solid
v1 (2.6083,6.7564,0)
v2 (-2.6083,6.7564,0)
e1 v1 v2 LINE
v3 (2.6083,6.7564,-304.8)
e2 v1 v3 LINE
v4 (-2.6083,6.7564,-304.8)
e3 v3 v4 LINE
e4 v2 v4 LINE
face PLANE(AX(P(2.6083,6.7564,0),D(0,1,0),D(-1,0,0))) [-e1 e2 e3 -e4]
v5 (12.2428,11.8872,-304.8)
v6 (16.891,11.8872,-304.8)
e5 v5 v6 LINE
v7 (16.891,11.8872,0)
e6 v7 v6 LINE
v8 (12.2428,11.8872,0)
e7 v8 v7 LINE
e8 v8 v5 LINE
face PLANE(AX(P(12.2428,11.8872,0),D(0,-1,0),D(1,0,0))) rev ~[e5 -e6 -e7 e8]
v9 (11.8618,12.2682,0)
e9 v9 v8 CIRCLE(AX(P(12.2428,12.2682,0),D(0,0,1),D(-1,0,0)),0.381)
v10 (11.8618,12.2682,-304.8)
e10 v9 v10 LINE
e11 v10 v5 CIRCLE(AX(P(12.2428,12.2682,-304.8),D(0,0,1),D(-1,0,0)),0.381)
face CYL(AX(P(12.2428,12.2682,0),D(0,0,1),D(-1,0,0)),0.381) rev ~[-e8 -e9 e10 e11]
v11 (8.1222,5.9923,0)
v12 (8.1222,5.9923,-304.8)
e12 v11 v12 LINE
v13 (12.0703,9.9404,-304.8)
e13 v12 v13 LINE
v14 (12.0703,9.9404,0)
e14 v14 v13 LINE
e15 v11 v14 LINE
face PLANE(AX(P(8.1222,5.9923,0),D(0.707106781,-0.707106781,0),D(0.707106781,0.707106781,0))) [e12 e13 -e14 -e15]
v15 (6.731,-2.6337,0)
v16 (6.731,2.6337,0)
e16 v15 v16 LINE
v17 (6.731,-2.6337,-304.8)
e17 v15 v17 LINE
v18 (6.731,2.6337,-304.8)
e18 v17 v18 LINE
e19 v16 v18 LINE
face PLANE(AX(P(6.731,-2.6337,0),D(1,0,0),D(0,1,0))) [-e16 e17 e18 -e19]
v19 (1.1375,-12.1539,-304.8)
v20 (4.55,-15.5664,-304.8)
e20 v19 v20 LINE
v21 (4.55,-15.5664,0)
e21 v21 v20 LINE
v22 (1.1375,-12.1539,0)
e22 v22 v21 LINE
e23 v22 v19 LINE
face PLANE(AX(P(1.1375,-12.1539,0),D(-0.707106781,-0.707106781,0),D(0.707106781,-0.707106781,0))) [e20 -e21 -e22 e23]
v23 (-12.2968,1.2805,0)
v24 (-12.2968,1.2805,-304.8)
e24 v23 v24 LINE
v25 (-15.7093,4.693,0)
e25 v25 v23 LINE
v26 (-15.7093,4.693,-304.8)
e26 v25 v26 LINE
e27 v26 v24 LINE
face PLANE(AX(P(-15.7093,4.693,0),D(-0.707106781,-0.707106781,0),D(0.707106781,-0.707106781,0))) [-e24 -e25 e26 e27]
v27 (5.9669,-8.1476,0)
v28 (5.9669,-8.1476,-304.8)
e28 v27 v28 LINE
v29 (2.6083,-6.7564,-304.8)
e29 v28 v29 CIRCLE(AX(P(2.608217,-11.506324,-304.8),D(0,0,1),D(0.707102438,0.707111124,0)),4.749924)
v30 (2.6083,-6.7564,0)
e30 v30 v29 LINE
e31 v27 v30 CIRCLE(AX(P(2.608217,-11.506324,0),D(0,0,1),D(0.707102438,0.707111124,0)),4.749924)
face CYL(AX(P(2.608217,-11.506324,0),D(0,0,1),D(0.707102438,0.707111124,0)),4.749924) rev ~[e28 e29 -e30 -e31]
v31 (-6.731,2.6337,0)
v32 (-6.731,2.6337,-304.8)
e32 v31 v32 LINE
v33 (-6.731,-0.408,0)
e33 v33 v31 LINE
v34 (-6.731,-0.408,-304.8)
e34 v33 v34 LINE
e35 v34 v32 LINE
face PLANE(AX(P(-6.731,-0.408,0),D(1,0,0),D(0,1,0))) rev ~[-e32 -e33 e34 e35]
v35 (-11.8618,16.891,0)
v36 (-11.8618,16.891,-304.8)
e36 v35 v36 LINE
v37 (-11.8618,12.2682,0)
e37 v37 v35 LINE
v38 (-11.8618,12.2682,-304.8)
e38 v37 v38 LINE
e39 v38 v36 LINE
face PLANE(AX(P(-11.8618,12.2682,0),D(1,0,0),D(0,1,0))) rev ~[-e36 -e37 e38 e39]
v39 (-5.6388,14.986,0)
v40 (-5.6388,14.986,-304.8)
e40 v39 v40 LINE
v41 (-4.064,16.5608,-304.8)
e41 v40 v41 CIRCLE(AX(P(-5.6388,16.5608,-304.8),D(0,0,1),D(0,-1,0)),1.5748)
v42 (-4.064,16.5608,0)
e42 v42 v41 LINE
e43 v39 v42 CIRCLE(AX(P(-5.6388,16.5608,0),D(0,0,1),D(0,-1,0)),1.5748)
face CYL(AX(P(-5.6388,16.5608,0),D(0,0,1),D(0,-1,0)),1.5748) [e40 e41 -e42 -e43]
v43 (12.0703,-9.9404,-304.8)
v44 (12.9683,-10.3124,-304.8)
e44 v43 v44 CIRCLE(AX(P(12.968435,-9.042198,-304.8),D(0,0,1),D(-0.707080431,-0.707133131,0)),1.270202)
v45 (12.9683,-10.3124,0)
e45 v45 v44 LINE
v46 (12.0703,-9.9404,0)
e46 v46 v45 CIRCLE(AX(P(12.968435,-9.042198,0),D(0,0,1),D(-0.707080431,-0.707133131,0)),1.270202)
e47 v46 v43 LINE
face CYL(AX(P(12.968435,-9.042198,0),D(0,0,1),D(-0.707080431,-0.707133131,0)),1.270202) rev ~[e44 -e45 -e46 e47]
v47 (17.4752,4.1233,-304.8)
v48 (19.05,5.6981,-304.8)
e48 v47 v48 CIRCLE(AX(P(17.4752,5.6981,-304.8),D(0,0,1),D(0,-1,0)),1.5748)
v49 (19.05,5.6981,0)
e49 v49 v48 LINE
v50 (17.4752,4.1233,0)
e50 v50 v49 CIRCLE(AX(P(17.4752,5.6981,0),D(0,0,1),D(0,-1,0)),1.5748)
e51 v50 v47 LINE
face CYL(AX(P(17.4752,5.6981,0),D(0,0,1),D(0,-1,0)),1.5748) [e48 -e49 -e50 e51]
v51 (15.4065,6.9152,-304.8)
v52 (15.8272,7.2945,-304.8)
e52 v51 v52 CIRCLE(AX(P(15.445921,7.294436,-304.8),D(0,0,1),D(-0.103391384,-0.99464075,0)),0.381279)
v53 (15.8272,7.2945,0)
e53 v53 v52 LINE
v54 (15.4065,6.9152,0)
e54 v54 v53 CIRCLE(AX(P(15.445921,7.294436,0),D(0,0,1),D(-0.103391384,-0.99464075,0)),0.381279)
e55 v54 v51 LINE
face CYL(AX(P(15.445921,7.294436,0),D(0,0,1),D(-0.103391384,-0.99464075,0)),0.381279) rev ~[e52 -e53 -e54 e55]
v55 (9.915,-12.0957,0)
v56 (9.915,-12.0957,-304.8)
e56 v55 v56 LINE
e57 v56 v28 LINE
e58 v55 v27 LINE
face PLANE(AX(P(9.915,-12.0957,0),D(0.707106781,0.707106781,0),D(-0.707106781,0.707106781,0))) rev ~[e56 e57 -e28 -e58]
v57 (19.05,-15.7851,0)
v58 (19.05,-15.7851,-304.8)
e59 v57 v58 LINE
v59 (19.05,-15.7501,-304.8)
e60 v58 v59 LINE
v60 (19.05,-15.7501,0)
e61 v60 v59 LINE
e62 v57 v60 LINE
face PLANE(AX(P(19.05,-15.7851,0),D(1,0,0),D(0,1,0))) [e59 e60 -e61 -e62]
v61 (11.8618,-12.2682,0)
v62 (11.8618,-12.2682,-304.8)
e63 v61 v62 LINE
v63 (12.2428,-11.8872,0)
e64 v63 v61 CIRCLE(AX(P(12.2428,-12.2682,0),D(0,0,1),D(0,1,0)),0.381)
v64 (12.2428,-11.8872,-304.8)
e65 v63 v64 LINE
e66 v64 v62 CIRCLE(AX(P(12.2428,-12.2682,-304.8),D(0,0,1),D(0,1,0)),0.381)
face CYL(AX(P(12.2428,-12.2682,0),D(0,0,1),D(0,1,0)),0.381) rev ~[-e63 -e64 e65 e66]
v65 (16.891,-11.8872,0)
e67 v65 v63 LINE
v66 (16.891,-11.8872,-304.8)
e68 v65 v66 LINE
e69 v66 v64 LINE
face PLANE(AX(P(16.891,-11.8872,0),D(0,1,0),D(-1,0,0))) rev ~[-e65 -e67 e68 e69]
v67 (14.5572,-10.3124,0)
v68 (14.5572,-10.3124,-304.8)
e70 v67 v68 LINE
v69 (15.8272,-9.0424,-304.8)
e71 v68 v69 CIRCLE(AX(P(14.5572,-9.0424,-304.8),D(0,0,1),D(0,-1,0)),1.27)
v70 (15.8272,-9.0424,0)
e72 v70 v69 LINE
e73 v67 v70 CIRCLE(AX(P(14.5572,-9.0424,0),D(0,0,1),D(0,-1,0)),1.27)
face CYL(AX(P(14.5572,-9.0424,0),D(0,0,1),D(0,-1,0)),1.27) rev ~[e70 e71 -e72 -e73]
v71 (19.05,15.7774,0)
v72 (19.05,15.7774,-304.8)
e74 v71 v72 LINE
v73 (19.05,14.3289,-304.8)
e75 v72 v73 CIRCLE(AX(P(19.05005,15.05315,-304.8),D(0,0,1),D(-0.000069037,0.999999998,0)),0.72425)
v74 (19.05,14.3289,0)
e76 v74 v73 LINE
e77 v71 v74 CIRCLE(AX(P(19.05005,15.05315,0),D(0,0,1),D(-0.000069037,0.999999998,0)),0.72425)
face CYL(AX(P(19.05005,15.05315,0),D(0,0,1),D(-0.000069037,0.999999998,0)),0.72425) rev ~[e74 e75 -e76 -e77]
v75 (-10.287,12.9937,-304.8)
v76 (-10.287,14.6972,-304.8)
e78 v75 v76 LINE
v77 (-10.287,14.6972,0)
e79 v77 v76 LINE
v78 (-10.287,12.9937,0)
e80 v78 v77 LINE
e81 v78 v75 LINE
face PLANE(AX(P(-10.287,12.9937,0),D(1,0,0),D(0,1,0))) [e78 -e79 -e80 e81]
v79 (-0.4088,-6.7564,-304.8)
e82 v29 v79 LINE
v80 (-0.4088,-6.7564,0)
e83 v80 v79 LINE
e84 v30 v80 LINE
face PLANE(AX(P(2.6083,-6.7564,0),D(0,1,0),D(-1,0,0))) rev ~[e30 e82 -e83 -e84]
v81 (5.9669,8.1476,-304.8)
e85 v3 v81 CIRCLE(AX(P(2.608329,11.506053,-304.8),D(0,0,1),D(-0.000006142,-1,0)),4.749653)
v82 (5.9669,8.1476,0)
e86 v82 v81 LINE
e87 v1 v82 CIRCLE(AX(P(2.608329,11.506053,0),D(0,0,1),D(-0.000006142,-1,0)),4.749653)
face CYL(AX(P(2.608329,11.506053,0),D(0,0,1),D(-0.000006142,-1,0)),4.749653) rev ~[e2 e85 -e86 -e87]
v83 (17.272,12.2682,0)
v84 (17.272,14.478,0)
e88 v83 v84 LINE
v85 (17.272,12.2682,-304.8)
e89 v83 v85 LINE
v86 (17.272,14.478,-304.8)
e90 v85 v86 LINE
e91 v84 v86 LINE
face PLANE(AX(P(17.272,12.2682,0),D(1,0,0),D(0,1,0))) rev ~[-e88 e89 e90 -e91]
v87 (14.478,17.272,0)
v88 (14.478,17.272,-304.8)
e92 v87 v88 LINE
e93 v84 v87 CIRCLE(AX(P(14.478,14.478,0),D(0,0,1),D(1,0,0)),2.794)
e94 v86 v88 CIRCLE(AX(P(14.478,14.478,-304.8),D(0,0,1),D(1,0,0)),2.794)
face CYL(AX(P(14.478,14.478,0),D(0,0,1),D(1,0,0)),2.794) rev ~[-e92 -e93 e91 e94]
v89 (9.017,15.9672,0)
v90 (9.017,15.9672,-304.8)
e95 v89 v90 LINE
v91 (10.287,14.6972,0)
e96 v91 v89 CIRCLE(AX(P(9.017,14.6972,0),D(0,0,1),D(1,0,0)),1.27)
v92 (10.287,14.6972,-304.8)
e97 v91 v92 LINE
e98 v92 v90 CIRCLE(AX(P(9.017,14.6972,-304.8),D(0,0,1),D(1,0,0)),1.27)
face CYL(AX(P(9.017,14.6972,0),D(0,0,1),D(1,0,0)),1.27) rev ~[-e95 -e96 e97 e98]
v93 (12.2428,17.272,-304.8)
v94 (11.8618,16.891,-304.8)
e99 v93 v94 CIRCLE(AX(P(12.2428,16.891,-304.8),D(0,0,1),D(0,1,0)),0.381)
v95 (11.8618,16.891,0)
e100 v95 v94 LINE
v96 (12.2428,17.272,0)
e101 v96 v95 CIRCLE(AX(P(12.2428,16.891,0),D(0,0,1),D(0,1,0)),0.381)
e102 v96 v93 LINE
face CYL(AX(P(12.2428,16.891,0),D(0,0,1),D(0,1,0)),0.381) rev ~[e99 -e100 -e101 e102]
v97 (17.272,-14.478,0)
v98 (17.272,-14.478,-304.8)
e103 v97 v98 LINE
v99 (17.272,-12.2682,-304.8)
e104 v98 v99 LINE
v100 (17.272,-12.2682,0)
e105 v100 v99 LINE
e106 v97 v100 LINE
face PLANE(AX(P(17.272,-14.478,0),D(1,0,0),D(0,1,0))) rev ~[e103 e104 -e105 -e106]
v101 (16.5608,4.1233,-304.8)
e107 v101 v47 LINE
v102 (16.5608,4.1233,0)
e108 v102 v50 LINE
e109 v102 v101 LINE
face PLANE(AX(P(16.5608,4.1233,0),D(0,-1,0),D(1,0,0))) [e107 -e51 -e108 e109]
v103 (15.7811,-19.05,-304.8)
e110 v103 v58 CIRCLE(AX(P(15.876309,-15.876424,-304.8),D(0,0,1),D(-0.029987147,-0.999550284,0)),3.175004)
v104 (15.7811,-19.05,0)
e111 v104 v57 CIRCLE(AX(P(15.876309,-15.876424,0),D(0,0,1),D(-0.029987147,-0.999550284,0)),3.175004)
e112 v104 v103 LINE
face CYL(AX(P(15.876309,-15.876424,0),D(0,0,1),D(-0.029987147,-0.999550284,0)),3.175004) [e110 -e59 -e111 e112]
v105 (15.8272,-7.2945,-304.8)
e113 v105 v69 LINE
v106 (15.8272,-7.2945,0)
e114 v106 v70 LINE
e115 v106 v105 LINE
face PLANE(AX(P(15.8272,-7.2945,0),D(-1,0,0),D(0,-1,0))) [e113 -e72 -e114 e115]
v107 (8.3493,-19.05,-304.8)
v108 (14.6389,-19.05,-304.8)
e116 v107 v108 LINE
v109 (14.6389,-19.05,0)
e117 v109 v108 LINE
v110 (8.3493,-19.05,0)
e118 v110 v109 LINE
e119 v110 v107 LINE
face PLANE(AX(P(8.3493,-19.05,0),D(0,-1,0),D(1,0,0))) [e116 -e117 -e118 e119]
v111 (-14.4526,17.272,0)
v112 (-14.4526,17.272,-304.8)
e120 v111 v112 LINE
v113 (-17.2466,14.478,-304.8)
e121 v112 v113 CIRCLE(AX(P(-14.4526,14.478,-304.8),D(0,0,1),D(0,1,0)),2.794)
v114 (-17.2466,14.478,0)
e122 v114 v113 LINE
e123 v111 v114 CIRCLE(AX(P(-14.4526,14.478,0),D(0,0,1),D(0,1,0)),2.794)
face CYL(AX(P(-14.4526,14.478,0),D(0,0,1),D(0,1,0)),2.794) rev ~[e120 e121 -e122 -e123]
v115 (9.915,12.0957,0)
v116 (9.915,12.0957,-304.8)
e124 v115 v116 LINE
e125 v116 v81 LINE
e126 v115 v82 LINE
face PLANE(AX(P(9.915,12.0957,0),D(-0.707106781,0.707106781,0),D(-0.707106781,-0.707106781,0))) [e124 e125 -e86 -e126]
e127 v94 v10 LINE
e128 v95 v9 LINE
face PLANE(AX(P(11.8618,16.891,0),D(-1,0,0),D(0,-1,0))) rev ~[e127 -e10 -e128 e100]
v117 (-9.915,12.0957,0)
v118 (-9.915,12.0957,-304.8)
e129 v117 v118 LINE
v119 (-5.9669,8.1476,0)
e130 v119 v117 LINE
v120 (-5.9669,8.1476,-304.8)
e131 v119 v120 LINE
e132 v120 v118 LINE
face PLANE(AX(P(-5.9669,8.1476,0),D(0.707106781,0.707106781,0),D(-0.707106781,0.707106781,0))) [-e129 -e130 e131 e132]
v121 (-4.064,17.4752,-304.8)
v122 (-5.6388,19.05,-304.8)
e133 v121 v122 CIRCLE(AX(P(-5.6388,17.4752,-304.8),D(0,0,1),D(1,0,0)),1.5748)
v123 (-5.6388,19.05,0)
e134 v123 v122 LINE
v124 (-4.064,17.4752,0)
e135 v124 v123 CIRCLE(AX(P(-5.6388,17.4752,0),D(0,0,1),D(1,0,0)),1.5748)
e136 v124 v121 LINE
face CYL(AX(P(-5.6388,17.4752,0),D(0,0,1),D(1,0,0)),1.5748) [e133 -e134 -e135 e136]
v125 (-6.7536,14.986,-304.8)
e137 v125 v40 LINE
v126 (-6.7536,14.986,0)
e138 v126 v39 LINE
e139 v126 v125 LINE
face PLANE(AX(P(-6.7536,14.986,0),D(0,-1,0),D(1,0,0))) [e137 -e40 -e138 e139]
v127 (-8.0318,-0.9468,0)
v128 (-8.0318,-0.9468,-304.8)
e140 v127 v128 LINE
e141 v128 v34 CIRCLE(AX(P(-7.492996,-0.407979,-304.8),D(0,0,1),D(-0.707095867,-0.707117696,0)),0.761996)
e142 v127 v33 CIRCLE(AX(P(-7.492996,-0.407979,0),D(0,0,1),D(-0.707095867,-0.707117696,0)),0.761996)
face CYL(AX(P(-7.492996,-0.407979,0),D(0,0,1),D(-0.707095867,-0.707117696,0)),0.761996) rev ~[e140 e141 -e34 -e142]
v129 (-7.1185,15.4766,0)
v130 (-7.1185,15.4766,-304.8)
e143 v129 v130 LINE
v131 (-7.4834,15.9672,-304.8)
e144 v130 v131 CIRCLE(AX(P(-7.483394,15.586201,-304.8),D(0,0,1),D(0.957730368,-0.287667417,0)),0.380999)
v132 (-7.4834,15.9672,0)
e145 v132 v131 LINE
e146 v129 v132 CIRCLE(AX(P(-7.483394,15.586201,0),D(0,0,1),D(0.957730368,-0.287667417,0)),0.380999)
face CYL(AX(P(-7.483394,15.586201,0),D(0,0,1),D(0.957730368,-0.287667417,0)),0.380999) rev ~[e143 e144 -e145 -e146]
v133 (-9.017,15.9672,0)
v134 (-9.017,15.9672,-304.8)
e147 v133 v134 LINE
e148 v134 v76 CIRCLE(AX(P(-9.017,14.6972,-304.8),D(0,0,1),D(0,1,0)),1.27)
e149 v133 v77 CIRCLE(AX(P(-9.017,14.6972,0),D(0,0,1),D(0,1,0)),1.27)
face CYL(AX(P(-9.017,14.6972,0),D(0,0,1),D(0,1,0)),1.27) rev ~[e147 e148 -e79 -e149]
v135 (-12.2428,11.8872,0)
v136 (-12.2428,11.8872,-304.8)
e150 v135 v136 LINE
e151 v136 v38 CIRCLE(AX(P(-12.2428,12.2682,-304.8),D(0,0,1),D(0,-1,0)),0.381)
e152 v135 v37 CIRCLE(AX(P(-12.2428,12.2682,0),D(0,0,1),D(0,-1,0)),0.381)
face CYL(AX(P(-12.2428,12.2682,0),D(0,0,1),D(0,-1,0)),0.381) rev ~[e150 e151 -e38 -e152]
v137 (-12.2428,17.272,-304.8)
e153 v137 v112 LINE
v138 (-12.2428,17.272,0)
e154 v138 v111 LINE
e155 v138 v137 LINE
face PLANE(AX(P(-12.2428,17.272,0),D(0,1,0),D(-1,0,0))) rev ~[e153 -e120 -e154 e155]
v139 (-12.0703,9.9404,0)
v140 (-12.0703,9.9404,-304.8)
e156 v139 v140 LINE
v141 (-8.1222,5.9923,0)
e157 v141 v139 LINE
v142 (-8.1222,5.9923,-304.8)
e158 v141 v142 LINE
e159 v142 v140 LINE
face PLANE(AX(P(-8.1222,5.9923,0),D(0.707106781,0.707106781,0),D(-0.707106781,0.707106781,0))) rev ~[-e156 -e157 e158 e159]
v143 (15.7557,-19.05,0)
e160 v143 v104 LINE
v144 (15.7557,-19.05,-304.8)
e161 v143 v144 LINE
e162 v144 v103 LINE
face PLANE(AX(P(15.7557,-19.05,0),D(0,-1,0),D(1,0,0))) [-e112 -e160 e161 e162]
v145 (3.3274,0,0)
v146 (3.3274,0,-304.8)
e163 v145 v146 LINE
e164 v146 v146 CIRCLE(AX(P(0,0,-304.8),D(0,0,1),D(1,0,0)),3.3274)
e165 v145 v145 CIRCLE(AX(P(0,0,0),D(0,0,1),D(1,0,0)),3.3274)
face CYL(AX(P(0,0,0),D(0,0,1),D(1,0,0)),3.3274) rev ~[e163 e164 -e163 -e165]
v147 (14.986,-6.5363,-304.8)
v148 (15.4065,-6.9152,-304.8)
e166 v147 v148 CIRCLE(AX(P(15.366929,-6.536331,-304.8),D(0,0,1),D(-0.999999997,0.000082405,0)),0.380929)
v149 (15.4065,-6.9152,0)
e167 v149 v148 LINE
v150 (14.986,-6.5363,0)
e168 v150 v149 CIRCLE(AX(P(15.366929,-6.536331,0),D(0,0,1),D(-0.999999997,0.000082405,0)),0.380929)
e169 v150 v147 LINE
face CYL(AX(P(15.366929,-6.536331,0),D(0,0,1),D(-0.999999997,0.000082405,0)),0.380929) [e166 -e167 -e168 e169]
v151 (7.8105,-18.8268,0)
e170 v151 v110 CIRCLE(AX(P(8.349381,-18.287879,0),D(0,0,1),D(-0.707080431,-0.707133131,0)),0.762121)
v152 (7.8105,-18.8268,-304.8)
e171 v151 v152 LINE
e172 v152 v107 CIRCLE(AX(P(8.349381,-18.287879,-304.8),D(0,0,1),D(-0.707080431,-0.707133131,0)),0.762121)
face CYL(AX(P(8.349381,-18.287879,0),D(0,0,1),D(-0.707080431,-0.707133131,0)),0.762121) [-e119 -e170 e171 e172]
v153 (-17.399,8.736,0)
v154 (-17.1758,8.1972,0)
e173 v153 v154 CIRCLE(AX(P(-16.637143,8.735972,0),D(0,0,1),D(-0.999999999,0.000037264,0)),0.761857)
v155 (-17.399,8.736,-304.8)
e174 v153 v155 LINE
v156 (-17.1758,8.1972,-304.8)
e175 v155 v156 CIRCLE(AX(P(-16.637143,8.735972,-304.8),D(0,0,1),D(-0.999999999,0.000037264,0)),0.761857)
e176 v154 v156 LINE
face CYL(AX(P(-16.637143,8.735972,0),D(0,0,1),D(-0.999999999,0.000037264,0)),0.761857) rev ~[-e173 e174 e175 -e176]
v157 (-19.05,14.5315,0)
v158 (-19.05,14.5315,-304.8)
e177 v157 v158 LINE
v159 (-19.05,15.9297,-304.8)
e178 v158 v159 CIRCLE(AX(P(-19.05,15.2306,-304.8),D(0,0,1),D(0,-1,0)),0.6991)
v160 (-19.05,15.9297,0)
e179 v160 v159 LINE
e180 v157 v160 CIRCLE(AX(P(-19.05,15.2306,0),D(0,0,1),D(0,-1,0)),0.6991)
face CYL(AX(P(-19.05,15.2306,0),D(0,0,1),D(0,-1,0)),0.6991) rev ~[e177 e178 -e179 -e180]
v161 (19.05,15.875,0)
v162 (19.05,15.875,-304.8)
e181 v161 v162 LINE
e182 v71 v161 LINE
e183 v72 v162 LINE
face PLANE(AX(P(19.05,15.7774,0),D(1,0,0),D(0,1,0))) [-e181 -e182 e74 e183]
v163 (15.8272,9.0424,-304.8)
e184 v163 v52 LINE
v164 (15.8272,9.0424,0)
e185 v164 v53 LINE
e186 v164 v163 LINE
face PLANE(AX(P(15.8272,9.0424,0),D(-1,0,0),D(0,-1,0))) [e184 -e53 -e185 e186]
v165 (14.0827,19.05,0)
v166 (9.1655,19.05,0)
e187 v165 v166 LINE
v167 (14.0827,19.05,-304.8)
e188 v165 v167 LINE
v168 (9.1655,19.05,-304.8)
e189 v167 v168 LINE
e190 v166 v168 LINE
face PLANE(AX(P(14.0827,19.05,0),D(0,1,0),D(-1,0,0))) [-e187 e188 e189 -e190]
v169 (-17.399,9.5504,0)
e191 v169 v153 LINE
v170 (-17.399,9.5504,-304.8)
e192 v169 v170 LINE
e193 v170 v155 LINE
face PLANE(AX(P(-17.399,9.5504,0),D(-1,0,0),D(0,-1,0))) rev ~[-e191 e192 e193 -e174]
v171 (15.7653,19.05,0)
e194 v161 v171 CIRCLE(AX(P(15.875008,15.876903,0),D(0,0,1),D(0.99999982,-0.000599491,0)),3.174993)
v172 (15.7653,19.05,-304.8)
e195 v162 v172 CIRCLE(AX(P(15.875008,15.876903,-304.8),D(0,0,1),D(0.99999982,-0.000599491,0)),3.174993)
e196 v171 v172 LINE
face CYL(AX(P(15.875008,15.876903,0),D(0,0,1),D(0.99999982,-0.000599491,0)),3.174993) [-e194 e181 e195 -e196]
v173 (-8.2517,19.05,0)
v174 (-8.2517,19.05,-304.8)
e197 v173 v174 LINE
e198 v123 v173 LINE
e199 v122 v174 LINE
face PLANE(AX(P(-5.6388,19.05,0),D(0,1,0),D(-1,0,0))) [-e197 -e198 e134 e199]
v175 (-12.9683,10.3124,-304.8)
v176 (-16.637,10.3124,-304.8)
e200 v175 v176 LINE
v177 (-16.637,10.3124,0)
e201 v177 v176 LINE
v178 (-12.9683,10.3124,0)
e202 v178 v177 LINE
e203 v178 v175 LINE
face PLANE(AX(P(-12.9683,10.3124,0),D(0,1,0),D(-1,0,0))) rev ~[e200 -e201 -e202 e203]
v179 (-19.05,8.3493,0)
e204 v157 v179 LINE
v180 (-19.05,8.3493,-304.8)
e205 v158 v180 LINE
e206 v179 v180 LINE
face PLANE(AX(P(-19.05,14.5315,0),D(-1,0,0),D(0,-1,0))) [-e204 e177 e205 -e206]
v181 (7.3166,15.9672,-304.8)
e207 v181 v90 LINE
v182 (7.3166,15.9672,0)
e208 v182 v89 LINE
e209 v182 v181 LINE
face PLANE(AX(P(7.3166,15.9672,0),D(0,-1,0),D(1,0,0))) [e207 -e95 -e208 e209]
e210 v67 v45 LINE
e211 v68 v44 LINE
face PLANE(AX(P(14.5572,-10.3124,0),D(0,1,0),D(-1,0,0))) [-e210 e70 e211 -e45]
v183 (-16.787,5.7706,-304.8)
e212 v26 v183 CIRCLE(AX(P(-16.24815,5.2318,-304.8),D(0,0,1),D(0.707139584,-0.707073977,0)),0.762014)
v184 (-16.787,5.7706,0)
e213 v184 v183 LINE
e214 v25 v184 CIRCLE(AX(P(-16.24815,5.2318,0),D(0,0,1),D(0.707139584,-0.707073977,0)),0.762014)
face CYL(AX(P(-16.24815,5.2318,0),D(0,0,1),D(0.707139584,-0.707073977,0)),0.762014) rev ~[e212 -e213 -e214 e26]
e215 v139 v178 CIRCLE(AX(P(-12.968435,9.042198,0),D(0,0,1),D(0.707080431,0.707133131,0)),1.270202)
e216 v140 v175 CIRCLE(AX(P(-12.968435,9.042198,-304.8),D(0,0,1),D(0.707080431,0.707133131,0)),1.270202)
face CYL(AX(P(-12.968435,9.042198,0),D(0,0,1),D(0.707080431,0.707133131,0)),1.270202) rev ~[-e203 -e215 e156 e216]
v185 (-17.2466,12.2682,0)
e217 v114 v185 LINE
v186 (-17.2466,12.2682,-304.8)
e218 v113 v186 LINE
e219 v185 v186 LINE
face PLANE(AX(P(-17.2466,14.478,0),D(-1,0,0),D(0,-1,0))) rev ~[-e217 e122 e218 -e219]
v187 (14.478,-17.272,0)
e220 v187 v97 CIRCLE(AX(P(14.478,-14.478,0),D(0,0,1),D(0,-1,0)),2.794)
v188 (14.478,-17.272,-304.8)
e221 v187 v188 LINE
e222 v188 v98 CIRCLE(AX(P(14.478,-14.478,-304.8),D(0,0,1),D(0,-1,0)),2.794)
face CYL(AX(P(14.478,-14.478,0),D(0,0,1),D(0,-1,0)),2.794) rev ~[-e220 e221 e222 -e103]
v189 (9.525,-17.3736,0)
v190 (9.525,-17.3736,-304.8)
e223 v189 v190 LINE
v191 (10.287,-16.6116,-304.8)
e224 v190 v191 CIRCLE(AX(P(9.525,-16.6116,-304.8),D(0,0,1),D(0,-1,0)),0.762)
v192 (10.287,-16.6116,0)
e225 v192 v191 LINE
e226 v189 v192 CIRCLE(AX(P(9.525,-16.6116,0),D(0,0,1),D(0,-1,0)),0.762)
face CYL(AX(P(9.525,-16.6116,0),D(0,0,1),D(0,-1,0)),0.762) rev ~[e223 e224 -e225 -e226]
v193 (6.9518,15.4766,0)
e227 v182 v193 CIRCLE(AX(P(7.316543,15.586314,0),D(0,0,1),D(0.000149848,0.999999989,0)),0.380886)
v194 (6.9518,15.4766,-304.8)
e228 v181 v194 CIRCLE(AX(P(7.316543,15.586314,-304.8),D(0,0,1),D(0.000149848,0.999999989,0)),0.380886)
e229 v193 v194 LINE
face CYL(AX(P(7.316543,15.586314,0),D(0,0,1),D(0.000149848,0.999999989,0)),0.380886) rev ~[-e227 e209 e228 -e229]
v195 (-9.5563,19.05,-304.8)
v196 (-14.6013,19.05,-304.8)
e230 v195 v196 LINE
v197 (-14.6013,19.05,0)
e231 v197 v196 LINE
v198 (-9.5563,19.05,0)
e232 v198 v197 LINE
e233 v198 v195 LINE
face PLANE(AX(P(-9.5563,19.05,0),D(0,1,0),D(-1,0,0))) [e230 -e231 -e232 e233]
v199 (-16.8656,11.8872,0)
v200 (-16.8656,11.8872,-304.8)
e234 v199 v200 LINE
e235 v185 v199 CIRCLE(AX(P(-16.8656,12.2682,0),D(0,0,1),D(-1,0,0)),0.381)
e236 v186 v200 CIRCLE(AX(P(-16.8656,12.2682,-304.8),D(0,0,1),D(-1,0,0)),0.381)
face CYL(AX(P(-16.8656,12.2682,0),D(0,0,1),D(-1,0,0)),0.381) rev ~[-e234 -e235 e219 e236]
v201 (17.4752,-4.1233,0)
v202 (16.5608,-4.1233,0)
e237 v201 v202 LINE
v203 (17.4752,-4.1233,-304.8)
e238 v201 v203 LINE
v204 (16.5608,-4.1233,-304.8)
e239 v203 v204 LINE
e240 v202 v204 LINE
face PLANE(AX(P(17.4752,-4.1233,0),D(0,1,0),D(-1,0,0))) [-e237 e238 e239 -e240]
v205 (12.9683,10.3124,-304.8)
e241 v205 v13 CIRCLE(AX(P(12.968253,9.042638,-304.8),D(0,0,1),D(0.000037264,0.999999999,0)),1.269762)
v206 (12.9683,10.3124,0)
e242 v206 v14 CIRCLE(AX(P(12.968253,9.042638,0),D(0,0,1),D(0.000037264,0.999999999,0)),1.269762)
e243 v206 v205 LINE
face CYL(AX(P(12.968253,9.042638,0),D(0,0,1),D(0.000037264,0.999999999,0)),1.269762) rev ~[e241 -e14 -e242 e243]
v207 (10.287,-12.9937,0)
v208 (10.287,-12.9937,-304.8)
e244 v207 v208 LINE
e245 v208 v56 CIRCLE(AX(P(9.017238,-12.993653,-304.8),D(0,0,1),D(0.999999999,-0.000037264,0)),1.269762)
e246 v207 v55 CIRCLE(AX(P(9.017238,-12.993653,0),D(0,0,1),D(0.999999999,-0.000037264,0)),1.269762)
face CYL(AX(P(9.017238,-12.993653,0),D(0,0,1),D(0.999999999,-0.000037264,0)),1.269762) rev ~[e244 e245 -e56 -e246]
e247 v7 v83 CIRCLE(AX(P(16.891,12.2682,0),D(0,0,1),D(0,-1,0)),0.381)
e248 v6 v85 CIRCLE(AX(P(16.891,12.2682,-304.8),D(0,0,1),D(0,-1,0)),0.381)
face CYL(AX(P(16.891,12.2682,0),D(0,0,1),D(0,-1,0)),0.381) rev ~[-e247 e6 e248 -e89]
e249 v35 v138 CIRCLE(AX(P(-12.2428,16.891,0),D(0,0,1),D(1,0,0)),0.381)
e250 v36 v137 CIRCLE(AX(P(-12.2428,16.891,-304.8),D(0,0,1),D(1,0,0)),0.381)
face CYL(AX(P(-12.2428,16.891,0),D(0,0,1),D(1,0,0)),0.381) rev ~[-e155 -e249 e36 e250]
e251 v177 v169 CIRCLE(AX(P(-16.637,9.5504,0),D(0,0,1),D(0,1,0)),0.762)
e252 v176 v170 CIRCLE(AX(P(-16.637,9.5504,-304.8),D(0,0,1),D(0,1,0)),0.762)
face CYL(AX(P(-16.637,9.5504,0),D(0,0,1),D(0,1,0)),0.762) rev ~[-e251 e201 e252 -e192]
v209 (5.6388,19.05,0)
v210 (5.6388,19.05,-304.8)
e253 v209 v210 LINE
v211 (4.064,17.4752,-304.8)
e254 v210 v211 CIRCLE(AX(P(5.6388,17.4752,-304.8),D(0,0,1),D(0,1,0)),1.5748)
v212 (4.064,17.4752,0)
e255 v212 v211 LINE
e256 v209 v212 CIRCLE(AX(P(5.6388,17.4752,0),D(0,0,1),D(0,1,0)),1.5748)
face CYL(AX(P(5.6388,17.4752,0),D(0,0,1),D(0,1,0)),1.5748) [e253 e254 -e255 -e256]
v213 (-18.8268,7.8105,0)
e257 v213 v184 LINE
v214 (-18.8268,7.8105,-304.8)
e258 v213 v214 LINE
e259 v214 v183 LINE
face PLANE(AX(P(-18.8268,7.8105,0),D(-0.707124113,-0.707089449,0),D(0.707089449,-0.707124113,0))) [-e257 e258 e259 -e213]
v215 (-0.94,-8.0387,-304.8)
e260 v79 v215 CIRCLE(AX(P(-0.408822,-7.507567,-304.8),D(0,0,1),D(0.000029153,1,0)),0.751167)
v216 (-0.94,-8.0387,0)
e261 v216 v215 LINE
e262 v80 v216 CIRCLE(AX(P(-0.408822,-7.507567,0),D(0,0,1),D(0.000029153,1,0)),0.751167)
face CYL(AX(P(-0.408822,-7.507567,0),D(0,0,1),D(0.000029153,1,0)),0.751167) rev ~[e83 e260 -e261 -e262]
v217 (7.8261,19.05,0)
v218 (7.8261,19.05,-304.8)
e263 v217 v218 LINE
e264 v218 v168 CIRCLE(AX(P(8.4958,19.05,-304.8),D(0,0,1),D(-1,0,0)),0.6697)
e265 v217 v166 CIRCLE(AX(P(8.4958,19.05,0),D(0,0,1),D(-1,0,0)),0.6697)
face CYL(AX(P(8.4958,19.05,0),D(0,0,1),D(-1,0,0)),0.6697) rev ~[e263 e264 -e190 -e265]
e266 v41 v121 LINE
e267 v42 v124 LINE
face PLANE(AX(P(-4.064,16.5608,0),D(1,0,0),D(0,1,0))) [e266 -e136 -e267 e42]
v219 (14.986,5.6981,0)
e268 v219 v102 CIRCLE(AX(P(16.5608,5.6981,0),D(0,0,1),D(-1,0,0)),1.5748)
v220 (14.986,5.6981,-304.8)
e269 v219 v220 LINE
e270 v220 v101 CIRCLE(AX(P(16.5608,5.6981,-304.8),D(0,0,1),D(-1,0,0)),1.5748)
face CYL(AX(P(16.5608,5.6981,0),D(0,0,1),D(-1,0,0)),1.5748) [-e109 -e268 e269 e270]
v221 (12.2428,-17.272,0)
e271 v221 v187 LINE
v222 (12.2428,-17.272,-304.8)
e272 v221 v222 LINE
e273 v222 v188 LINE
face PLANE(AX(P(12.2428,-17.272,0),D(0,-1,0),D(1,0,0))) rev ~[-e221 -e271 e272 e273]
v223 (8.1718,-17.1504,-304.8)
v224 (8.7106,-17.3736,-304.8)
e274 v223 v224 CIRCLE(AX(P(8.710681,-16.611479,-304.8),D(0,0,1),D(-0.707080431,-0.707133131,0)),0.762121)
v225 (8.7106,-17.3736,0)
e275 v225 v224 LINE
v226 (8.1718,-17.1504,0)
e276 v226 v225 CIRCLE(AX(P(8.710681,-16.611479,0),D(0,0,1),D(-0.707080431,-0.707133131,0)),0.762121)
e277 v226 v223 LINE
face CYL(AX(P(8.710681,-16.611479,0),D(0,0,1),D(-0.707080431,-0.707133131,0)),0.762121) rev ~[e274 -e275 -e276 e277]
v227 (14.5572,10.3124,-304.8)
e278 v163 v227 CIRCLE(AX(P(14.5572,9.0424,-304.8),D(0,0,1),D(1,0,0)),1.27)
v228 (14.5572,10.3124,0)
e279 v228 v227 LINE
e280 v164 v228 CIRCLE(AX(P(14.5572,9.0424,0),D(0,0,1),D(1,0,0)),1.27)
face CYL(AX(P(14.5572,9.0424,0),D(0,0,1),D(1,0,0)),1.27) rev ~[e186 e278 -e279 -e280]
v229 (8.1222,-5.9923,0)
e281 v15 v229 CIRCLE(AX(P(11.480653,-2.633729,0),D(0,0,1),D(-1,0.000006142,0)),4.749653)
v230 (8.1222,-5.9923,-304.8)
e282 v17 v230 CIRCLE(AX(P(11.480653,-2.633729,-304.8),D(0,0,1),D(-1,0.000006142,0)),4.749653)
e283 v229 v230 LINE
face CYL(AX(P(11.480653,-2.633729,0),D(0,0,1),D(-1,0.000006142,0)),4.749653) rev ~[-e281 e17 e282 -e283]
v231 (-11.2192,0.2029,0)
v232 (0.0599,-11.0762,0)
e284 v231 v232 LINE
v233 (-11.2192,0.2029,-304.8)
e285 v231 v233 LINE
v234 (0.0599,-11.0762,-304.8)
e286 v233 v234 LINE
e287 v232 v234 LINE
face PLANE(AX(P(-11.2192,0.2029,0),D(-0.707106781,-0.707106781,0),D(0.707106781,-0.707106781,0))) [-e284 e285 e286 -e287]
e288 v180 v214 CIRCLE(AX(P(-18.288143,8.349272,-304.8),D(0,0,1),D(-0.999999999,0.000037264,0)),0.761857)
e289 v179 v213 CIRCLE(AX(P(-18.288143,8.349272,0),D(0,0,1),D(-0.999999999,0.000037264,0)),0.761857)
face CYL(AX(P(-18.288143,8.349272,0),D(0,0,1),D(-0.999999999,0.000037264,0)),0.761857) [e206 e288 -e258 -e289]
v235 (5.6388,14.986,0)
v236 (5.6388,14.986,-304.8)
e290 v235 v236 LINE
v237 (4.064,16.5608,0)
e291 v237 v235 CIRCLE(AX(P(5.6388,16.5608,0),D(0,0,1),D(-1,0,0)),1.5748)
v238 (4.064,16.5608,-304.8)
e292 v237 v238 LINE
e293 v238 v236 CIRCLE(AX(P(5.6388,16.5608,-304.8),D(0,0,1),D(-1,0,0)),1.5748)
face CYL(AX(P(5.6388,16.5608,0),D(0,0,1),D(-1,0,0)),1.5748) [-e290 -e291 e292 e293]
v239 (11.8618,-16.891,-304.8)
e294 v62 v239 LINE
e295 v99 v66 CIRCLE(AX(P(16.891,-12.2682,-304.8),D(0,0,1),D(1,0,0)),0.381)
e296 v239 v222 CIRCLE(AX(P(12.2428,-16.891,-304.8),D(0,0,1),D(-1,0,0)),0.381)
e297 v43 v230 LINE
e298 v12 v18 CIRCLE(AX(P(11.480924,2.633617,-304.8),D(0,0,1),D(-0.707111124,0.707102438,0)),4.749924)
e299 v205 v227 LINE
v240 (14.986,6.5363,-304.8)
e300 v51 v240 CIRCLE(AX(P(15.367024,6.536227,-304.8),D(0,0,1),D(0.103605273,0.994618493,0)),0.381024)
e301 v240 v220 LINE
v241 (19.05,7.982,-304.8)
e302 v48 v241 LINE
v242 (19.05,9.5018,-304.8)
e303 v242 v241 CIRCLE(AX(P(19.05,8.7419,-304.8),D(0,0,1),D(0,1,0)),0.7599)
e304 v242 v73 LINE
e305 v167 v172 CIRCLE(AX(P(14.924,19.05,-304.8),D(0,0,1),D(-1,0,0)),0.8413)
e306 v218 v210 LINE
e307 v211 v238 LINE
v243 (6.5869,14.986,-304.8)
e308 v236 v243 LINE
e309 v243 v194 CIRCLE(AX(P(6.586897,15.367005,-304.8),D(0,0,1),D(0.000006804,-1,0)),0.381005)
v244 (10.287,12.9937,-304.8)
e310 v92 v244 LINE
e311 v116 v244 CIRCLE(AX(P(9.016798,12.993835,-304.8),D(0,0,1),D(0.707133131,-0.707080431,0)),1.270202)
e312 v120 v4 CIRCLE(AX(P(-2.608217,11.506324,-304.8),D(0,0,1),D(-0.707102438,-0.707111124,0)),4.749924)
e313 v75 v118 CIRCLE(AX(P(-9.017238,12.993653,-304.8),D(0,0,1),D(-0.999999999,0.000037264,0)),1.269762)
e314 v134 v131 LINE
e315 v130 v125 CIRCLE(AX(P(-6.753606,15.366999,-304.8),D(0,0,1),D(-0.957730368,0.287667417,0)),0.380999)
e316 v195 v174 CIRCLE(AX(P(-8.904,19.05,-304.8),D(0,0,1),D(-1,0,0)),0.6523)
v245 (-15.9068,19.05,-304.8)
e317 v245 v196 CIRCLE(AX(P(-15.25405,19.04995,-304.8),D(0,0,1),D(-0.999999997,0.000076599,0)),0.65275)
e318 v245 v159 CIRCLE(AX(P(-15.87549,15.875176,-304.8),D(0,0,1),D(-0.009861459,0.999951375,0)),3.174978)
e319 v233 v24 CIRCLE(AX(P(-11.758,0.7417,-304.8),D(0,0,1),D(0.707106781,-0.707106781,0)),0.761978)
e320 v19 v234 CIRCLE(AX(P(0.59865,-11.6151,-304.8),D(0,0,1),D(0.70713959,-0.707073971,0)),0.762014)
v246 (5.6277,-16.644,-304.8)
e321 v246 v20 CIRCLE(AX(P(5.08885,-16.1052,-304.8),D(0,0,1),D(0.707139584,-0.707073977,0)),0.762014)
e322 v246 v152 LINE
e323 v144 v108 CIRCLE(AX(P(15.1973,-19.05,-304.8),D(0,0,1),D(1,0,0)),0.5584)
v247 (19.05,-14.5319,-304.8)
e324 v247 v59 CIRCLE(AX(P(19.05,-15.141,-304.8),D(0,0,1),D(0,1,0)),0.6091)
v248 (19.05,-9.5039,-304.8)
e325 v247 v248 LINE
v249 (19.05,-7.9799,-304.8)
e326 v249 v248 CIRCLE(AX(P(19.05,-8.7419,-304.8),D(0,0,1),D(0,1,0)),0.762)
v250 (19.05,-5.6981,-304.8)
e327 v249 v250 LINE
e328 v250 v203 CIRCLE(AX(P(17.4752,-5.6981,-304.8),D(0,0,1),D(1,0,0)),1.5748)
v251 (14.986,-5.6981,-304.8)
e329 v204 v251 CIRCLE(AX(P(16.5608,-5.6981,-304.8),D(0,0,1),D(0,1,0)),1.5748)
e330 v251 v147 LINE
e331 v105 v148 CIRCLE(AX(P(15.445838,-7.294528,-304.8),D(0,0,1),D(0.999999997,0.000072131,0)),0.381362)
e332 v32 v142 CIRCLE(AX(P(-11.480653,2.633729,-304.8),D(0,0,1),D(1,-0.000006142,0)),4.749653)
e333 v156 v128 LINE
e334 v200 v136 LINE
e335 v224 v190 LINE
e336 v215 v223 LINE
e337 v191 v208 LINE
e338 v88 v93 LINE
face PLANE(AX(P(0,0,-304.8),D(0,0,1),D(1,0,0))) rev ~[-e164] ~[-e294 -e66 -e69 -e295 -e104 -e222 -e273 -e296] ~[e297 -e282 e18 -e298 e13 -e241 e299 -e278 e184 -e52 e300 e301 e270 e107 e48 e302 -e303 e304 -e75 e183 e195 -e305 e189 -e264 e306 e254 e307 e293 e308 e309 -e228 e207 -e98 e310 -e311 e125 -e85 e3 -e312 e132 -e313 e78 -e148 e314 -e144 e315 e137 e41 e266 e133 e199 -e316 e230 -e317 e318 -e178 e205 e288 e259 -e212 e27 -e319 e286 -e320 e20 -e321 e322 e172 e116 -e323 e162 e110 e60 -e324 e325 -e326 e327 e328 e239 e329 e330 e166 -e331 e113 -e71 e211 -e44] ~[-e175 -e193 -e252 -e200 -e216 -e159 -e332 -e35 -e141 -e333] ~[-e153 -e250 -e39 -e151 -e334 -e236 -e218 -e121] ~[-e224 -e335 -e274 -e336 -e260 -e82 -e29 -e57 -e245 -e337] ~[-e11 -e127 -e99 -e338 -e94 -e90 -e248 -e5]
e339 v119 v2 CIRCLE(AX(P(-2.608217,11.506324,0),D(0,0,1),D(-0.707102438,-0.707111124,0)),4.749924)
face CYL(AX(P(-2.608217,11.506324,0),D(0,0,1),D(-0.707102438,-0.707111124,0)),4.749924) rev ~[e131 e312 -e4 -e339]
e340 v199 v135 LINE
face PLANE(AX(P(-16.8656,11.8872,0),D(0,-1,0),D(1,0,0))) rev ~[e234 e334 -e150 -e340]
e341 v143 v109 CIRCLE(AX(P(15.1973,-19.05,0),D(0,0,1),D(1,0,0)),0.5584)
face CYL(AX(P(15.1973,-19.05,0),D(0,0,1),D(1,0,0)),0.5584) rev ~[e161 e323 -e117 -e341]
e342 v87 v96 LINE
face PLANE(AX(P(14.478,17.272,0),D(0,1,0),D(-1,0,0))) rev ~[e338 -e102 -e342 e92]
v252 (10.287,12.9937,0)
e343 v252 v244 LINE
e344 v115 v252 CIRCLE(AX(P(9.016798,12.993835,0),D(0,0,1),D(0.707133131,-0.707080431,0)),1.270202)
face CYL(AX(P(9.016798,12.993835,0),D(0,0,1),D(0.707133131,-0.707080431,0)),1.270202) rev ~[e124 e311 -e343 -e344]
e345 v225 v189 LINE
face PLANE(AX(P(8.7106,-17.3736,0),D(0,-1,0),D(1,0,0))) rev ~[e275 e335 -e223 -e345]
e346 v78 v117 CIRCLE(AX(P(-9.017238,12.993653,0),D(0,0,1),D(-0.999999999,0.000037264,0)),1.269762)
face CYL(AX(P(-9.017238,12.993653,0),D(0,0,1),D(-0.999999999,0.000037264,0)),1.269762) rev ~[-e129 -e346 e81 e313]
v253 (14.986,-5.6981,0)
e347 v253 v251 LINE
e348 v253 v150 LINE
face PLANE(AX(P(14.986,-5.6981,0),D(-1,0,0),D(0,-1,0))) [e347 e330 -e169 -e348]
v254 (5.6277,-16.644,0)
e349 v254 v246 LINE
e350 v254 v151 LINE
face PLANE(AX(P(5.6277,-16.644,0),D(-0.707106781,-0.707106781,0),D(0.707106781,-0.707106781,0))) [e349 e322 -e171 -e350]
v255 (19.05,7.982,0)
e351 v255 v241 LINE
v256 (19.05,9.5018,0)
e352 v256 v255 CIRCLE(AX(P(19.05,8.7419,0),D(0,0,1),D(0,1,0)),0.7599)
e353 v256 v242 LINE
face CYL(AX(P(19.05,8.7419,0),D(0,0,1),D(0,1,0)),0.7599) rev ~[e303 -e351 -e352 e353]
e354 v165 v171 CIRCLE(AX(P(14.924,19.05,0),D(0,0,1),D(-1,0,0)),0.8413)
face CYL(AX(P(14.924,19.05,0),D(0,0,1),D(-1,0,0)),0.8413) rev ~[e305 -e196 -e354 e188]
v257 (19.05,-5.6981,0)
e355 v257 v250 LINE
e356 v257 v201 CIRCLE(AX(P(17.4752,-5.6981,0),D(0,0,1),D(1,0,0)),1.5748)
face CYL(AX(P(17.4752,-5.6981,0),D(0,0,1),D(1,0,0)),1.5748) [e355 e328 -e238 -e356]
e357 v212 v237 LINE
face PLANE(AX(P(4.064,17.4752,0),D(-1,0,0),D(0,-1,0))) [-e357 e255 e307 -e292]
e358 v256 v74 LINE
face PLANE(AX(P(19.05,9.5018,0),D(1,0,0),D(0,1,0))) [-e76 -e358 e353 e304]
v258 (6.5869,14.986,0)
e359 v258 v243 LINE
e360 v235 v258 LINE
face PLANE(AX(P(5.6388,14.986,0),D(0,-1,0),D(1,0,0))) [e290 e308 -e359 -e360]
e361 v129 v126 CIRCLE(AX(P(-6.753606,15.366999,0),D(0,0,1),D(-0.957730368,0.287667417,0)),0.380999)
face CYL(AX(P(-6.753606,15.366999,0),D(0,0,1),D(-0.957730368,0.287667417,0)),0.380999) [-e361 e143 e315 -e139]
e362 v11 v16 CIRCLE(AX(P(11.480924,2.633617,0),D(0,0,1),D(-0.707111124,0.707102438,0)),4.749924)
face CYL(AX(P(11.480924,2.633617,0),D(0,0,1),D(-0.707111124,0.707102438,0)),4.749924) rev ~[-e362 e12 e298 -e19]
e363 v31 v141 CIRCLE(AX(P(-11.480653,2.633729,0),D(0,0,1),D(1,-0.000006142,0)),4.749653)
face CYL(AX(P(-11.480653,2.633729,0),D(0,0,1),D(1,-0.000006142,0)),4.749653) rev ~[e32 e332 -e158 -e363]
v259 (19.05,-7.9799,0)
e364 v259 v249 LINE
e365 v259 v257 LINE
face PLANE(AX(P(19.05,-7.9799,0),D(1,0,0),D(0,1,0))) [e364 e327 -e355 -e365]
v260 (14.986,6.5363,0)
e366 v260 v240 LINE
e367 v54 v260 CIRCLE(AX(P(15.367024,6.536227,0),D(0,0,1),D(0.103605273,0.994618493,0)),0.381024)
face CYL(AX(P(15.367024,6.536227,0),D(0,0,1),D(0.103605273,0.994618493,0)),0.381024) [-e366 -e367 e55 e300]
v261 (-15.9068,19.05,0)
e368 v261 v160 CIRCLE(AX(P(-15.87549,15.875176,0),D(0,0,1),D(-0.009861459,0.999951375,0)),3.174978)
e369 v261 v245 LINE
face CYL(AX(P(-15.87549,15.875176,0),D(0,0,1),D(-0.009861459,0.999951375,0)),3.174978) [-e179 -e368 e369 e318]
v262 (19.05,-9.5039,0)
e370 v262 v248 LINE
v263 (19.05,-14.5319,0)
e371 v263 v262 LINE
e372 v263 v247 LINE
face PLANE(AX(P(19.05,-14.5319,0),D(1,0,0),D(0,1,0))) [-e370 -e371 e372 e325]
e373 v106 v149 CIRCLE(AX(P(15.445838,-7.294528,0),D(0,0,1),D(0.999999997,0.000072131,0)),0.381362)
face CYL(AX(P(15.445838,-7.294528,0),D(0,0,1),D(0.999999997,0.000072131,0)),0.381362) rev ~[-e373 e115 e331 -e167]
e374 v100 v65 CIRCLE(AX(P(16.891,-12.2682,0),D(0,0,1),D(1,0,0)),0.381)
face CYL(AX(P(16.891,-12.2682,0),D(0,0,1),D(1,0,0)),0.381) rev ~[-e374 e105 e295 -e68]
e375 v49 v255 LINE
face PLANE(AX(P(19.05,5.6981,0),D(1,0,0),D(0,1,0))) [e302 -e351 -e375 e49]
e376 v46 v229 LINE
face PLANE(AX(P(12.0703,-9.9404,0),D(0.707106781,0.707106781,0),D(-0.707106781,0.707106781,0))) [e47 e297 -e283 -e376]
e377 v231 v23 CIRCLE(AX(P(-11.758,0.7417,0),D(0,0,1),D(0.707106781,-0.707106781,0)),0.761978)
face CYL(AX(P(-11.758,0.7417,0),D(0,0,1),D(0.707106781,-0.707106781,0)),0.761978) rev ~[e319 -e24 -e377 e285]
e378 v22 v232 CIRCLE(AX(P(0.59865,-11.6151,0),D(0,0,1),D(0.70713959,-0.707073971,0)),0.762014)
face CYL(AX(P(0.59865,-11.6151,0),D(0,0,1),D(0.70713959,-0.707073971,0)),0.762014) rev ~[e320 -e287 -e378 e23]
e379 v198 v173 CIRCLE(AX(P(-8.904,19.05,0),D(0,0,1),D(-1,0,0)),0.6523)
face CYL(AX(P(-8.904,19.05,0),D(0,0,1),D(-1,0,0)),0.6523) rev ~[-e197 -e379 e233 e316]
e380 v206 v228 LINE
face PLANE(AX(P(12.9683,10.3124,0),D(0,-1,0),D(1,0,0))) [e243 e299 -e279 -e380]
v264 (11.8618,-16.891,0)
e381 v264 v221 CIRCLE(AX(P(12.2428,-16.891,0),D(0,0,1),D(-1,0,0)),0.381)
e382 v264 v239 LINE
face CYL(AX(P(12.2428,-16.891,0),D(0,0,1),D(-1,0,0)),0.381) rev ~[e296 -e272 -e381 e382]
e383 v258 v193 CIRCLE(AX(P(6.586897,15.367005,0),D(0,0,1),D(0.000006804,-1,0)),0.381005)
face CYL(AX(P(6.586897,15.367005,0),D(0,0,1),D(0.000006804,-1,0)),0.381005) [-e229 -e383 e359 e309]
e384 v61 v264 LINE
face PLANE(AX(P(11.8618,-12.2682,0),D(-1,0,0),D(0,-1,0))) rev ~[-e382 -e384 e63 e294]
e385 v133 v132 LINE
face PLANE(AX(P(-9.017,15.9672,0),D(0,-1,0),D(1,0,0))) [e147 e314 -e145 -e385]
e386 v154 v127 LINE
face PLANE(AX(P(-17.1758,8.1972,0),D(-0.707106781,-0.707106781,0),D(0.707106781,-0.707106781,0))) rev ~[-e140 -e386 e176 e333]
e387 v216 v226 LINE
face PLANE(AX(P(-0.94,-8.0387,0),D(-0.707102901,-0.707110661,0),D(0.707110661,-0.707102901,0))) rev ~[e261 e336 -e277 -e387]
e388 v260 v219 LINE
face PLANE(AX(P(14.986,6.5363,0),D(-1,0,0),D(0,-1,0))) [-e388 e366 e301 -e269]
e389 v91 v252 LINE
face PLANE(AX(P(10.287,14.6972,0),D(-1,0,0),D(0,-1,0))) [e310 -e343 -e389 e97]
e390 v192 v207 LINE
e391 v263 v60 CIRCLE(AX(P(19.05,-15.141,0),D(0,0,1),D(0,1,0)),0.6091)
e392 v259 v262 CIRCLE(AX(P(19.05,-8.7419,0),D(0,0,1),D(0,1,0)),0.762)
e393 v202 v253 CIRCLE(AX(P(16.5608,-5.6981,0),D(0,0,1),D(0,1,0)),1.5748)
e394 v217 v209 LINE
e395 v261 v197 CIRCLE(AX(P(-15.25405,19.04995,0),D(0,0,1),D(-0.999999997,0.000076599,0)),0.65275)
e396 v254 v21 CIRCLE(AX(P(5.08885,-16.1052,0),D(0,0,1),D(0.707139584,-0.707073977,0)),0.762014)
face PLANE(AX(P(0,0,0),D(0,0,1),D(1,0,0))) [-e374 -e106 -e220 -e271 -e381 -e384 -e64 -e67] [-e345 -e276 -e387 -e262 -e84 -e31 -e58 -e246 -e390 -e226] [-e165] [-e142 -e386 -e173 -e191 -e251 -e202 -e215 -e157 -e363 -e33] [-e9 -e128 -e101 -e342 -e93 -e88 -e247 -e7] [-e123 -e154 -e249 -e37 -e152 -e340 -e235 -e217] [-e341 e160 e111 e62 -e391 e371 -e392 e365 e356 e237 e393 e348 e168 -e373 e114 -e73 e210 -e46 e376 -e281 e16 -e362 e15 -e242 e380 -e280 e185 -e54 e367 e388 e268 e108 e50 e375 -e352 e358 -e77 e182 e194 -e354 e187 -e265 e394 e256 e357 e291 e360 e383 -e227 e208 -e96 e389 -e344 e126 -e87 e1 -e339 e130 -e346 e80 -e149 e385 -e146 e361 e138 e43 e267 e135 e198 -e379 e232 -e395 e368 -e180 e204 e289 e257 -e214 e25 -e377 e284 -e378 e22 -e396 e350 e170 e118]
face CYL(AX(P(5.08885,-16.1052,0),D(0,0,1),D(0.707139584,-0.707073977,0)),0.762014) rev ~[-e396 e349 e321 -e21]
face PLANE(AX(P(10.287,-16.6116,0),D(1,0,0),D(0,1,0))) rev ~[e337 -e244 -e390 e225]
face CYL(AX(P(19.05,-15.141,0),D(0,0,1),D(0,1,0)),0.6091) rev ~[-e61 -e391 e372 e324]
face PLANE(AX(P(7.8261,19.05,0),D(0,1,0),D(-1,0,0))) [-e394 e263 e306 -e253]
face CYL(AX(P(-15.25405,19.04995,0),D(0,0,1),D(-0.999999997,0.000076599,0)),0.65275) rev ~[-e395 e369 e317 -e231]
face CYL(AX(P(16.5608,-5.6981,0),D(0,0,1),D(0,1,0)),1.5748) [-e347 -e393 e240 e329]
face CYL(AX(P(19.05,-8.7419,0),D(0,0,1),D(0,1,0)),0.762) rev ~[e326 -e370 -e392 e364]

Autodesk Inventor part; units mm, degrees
ref_plane "YZ Plane" through (0, 0, 0) normal (1, 0, 0) x (0, 1, 0)
ref_plane "XZ Plane" through (0, 0, 0) normal (0, 1, 0) x (-1, 0, 0)
ref_plane "XY Plane" through (0, 0, 0) normal (0, 0, 1) x (1, 0, 0)
sketch "Sketch1" plane through (0, 0, 0) normal (0, 0, 1) x (1, 0, 0)
  circle A0 centre (0, 0) radius 3.3274
  arc A1 (12.2428, 17.272) -> (11.8618, 16.891) centre (12.2428, 16.891) ccw
  line L0 (14.478, 17.272) -> (12.2428, 17.272)
  arc A2 (17.272, 14.478) -> (14.478, 17.272) centre (14.478, 14.478) ccw
  line L1 (17.272, 12.2682) -> (17.272, 14.478)
  arc A3 (16.891, 11.8872) -> (17.272, 12.2682) centre (16.891, 12.2682) ccw
  line L2 (12.2428, 11.8872) -> (16.891, 11.8872)
  arc A4 (11.8618, 12.2682) -> (12.2428, 11.8872) centre (12.2428, 12.2682) ccw
  line L3 (11.8618, 16.891) -> (11.8618, 12.2682)
  arc A5 (-12.2428, 11.8872) -> (-11.8618, 12.2682) centre (-12.2428, 12.2682) ccw
  line L4 (-16.8656, 11.8872) -> (-12.2428, 11.8872)
  arc A6 (-17.2466, 12.2682) -> (-16.8656, 11.8872) centre (-16.8656, 12.2682) ccw
  line L5 (-17.2466, 14.478) -> (-17.2466, 12.2682)
  arc A7 (-14.4526, 17.272) -> (-17.2466, 14.478) centre (-14.4526, 14.478) ccw
  line L6 (-12.2428, 17.272) -> (-14.4526, 17.272)
  arc A8 (-11.8618, 16.891) -> (-12.2428, 17.272) centre (-12.2428, 16.891) ccw
  line L7 (-11.8618, 12.2682) -> (-11.8618, 16.891)
  arc A9 (14.478, -17.272) -> (17.272, -14.478) centre (14.478, -14.478) ccw
  line L8 (12.2428, -17.272) -> (14.478, -17.272)
  arc A10 (11.8618, -16.891) -> (12.2428, -17.272) centre (12.2428, -16.891) ccw
  line L9 (11.8618, -12.2682) -> (11.8618, -16.891)
  arc A11 (12.2428, -11.8872) -> (11.8618, -12.2682) centre (12.2428, -12.2682) ccw
  line L10 (16.891, -11.8872) -> (12.2428, -11.8872)
  arc A12 (17.272, -12.2682) -> (16.891, -11.8872) centre (16.891, -12.2682) ccw
  line L11 (17.272, -14.478) -> (17.272, -12.2682)
  arc A13 (10.287, -12.9937) -> (9.915, -12.0957) centre (9.017, -12.9937) ccw
  line L12 (10.287, -16.6116) -> (10.287, -12.9937)
  arc A14 (9.525, -17.3736) -> (10.287, -16.6116) centre (9.525, -16.6116) ccw
  line L13 (8.7106, -17.3736) -> (9.525, -17.3736)
  arc A15 (8.1718, -17.1504) -> (8.7106, -17.3736) centre (8.7106, -16.6116) ccw
  line L14 (-0.94, -8.0387) -> (8.1718, -17.1504)
  arc A16 (-0.4088, -6.7564) -> (-0.94, -8.0387) centre (-0.4088, -7.5076) ccw
  line L15 (2.6083, -6.7564) -> (-0.4088, -6.7564)
  arc A17 (5.9669, -8.1476) -> (2.6083, -6.7564) centre (2.6083, -11.5062) ccw
  line L16 (9.915, -12.0957) -> (5.9669, -8.1476)
  arc A18 (-8.0318, -0.9468) -> (-6.731, -0.408) centre (-7.493, -0.408) ccw
  line L17 (-17.1758, 8.1972) -> (-8.0318, -0.9468)
  arc A19 (-17.399, 8.736) -> (-17.1758, 8.1972) centre (-16.637, 8.736) ccw
  line L18 (-17.399, 9.5504) -> (-17.399, 8.736)
  arc A20 (-16.637, 10.3124) -> (-17.399, 9.5504) centre (-16.637, 9.5504) ccw
  line L19 (-12.9683, 10.3124) -> (-16.637, 10.3124)
  arc A21 (-12.0703, 9.9404) -> (-12.9683, 10.3124) centre (-12.9683, 9.0424) ccw
  line L20 (-8.1222, 5.9923) -> (-12.0703, 9.9404)
  arc A22 (-6.731, 2.6337) -> (-8.1222, 5.9923) centre (-11.4808, 2.6337) ccw
  line L21 (-6.731, -0.408) -> (-6.731, 2.6337)
  arc A23 (19.05, 15.7774) -> (19.05, 14.3289) centre (19.05, 15.0532) ccw
  line L22 (19.05, 15.7774) -> (19.05, 15.875)
  arc A24 (19.05, 15.875) -> (15.7653, 19.05) centre (15.875, 15.8769) ccw
  arc A25 (14.0827, 19.05) -> (15.7653, 19.05) centre (14.924, 19.05) ccw
  line L23 (14.0827, 19.05) -> (9.1655, 19.05)
  arc A26 (7.8261, 19.05) -> (9.1655, 19.05) centre (8.4958, 19.05) ccw
  line L24 (7.8261, 19.05) -> (5.6388, 19.05)
  arc A27 (5.6388, 19.05) -> (4.064, 17.4752) centre (5.6388, 17.4752) ccw
  line L25 (4.064, 17.4752) -> (4.064, 16.5608)
  arc A28 (4.064, 16.5608) -> (5.6388, 14.986) centre (5.6388, 16.5608) ccw
  line L26 (5.6388, 14.986) -> (6.5869, 14.986)
  arc A29 (6.5869, 14.986) -> (6.9518, 15.4766) centre (6.5869, 15.367) ccw
  arc A30 (7.3166, 15.9672) -> (6.9518, 15.4766) centre (7.3166, 15.5862) ccw
  line L27 (7.3166, 15.9672) -> (9.017, 15.9672)
  arc A31 (10.287, 14.6972) -> (9.017, 15.9672) centre (9.017, 14.6972) ccw
  line L28 (10.287, 14.6972) -> (10.287, 12.9937)
  arc A32 (9.915, 12.0957) -> (10.287, 12.9937) centre (9.017, 12.9937) ccw
  line L29 (9.915, 12.0957) -> (5.9669, 8.1476)
  arc A33 (2.6083, 6.7564) -> (5.9669, 8.1476) centre (2.6083, 11.5062) ccw
  line L30 (2.6083, 6.7564) -> (-2.6083, 6.7564)
  arc A34 (-5.9669, 8.1476) -> (-2.6083, 6.7564) centre (-2.6083, 11.5062) ccw
  line L31 (-5.9669, 8.1476) -> (-9.915, 12.0957)
  arc A35 (-10.287, 12.9937) -> (-9.915, 12.0957) centre (-9.017, 12.9937) ccw
  line L32 (-10.287, 12.9937) -> (-10.287, 14.6972)
  arc A36 (-9.017, 15.9672) -> (-10.287, 14.6972) centre (-9.017, 14.6972) ccw
  line L33 (-9.017, 15.9672) -> (-7.4834, 15.9672)
  arc A37 (-7.1185, 15.4766) -> (-7.4834, 15.9672) centre (-7.4834, 15.5862) ccw
  arc A38 (-7.1185, 15.4766) -> (-6.7536, 14.986) centre (-6.7536, 15.367) ccw
  line L34 (-6.7536, 14.986) -> (-5.6388, 14.986)
  arc A39 (-5.6388, 14.986) -> (-4.064, 16.5608) centre (-5.6388, 16.5608) ccw
  line L35 (-4.064, 16.5608) -> (-4.064, 17.4752)
  arc A40 (-4.064, 17.4752) -> (-5.6388, 19.05) centre (-5.6388, 17.4752) ccw
  line L36 (-5.6388, 19.05) -> (-8.2517, 19.05)
  arc A41 (-9.5563, 19.05) -> (-8.2517, 19.05) centre (-8.904, 19.05) ccw
  line L37 (-9.5563, 19.05) -> (-14.6013, 19.05)
  arc A42 (-15.9068, 19.05) -> (-14.6013, 19.05) centre (-15.254, 19.05) ccw
  arc A43 (-15.9068, 19.05) -> (-19.05, 15.9297) centre (-15.8755, 15.8752) ccw
  arc A44 (-19.05, 14.5315) -> (-19.05, 15.9297) centre (-19.05, 15.2306) ccw
  line L38 (-19.05, 14.5315) -> (-19.05, 8.3493)
  arc A45 (-19.05, 8.3493) -> (-18.8268, 7.8105) centre (-18.288, 8.3493) ccw
  line L39 (-18.8268, 7.8105) -> (-16.787, 5.7706)
  arc A46 (-15.7093, 4.693) -> (-16.787, 5.7706) centre (-16.2482, 5.2318) ccw
  line L40 (-15.7093, 4.693) -> (-12.2968, 1.2805)
  arc A47 (-11.2192, 0.2029) -> (-12.2968, 1.2805) centre (-11.758, 0.7417) ccw
  line L41 (-11.2192, 0.2029) -> (0.0599, -11.0762)
  arc A48 (1.1375, -12.1539) -> (0.0599, -11.0762) centre (0.5987, -11.6151) ccw
  line L42 (1.1375, -12.1539) -> (4.55, -15.5664)
  arc A49 (5.6277, -16.644) -> (4.55, -15.5664) centre (5.0888, -16.1052) ccw
  line L43 (5.6277, -16.644) -> (7.8105, -18.8268)
  arc A50 (7.8105, -18.8268) -> (8.3493, -19.05) centre (8.3493, -18.288) ccw
  line L44 (8.3493, -19.05) -> (14.6389, -19.05)
  arc A51 (15.7557, -19.05) -> (14.6389, -19.05) centre (15.1973, -19.05) ccw
  line L45 (15.7557, -19.05) -> (15.7811, -19.05)
  arc A52 (15.7811, -19.05) -> (19.05, -15.7851) centre (15.8763, -15.8764) ccw
  line L46 (19.05, -15.7851) -> (19.05, -15.7501)
  arc A53 (19.05, -14.5319) -> (19.05, -15.7501) centre (19.05, -15.141) ccw
  line L47 (19.05, -14.5319) -> (19.05, -9.5039)
  arc A54 (19.05, -7.9799) -> (19.05, -9.5039) centre (19.05, -8.7419) ccw
  line L48 (19.05, -7.9799) -> (19.05, -5.6981)
  arc A55 (19.05, -5.6981) -> (17.4752, -4.1233) centre (17.4752, -5.6981) ccw
  line L49 (17.4752, -4.1233) -> (16.5608, -4.1233)
  arc A56 (16.5608, -4.1233) -> (14.986, -5.6981) centre (16.5608, -5.6981) ccw
  line L50 (14.986, -5.6981) -> (14.986, -6.5363)
  arc A57 (14.986, -6.5363) -> (15.4065, -6.9152) centre (15.367, -6.5363) ccw
  arc A58 (15.8272, -7.2945) -> (15.4065, -6.9152) centre (15.4459, -7.2945) ccw
  line L51 (15.8272, -7.2945) -> (15.8272, -9.0424)
  arc A59 (14.5572, -10.3124) -> (15.8272, -9.0424) centre (14.5572, -9.0424) ccw
  line L52 (14.5572, -10.3124) -> (12.9683, -10.3124)
  arc A60 (12.0703, -9.9404) -> (12.9683, -10.3124) centre (12.9683, -9.0424) ccw
  line L53 (12.0703, -9.9404) -> (8.1222, -5.9923)
  arc A61 (6.731, -2.6337) -> (8.1222, -5.9923) centre (11.4808, -2.6337) ccw
  line L54 (6.731, -2.6337) -> (6.731, 2.6337)
  arc A62 (8.1222, 5.9923) -> (6.731, 2.6337) centre (11.4808, 2.6337) ccw
  line L55 (8.1222, 5.9923) -> (12.0703, 9.9404)
  arc A63 (12.9683, 10.3124) -> (12.0703, 9.9404) centre (12.9683, 9.0424) ccw
  line L56 (12.9683, 10.3124) -> (14.5572, 10.3124)
  arc A64 (15.8272, 9.0424) -> (14.5572, 10.3124) centre (14.5572, 9.0424) ccw
  line L57 (15.8272, 9.0424) -> (15.8272, 7.2945)
  arc A65 (15.4065, 6.9152) -> (15.8272, 7.2945) centre (15.4459, 7.2945) ccw
  arc A66 (15.4065, 6.9152) -> (14.986, 6.5363) centre (15.367, 6.5363) ccw
  line L58 (14.986, 6.5363) -> (14.986, 5.6981)
  arc A67 (14.986, 5.6981) -> (16.5608, 4.1233) centre (16.5608, 5.6981) ccw
  line L59 (16.5608, 4.1233) -> (17.4752, 4.1233)
  arc A68 (17.4752, 4.1233) -> (19.05, 5.6981) centre (17.4752, 5.6981) ccw
  line L60 (19.05, 5.6981) -> (19.05, 7.982)
  arc A69 (19.05, 9.5018) -> (19.05, 7.982) centre (19.05, 8.7419) ccw
  line L61 (19.05, 9.5018) -> (19.05, 14.3289)
extrude "Extrusion1" add sketch "Sketch1" against normal blind 304.8
properties part number "1547"
